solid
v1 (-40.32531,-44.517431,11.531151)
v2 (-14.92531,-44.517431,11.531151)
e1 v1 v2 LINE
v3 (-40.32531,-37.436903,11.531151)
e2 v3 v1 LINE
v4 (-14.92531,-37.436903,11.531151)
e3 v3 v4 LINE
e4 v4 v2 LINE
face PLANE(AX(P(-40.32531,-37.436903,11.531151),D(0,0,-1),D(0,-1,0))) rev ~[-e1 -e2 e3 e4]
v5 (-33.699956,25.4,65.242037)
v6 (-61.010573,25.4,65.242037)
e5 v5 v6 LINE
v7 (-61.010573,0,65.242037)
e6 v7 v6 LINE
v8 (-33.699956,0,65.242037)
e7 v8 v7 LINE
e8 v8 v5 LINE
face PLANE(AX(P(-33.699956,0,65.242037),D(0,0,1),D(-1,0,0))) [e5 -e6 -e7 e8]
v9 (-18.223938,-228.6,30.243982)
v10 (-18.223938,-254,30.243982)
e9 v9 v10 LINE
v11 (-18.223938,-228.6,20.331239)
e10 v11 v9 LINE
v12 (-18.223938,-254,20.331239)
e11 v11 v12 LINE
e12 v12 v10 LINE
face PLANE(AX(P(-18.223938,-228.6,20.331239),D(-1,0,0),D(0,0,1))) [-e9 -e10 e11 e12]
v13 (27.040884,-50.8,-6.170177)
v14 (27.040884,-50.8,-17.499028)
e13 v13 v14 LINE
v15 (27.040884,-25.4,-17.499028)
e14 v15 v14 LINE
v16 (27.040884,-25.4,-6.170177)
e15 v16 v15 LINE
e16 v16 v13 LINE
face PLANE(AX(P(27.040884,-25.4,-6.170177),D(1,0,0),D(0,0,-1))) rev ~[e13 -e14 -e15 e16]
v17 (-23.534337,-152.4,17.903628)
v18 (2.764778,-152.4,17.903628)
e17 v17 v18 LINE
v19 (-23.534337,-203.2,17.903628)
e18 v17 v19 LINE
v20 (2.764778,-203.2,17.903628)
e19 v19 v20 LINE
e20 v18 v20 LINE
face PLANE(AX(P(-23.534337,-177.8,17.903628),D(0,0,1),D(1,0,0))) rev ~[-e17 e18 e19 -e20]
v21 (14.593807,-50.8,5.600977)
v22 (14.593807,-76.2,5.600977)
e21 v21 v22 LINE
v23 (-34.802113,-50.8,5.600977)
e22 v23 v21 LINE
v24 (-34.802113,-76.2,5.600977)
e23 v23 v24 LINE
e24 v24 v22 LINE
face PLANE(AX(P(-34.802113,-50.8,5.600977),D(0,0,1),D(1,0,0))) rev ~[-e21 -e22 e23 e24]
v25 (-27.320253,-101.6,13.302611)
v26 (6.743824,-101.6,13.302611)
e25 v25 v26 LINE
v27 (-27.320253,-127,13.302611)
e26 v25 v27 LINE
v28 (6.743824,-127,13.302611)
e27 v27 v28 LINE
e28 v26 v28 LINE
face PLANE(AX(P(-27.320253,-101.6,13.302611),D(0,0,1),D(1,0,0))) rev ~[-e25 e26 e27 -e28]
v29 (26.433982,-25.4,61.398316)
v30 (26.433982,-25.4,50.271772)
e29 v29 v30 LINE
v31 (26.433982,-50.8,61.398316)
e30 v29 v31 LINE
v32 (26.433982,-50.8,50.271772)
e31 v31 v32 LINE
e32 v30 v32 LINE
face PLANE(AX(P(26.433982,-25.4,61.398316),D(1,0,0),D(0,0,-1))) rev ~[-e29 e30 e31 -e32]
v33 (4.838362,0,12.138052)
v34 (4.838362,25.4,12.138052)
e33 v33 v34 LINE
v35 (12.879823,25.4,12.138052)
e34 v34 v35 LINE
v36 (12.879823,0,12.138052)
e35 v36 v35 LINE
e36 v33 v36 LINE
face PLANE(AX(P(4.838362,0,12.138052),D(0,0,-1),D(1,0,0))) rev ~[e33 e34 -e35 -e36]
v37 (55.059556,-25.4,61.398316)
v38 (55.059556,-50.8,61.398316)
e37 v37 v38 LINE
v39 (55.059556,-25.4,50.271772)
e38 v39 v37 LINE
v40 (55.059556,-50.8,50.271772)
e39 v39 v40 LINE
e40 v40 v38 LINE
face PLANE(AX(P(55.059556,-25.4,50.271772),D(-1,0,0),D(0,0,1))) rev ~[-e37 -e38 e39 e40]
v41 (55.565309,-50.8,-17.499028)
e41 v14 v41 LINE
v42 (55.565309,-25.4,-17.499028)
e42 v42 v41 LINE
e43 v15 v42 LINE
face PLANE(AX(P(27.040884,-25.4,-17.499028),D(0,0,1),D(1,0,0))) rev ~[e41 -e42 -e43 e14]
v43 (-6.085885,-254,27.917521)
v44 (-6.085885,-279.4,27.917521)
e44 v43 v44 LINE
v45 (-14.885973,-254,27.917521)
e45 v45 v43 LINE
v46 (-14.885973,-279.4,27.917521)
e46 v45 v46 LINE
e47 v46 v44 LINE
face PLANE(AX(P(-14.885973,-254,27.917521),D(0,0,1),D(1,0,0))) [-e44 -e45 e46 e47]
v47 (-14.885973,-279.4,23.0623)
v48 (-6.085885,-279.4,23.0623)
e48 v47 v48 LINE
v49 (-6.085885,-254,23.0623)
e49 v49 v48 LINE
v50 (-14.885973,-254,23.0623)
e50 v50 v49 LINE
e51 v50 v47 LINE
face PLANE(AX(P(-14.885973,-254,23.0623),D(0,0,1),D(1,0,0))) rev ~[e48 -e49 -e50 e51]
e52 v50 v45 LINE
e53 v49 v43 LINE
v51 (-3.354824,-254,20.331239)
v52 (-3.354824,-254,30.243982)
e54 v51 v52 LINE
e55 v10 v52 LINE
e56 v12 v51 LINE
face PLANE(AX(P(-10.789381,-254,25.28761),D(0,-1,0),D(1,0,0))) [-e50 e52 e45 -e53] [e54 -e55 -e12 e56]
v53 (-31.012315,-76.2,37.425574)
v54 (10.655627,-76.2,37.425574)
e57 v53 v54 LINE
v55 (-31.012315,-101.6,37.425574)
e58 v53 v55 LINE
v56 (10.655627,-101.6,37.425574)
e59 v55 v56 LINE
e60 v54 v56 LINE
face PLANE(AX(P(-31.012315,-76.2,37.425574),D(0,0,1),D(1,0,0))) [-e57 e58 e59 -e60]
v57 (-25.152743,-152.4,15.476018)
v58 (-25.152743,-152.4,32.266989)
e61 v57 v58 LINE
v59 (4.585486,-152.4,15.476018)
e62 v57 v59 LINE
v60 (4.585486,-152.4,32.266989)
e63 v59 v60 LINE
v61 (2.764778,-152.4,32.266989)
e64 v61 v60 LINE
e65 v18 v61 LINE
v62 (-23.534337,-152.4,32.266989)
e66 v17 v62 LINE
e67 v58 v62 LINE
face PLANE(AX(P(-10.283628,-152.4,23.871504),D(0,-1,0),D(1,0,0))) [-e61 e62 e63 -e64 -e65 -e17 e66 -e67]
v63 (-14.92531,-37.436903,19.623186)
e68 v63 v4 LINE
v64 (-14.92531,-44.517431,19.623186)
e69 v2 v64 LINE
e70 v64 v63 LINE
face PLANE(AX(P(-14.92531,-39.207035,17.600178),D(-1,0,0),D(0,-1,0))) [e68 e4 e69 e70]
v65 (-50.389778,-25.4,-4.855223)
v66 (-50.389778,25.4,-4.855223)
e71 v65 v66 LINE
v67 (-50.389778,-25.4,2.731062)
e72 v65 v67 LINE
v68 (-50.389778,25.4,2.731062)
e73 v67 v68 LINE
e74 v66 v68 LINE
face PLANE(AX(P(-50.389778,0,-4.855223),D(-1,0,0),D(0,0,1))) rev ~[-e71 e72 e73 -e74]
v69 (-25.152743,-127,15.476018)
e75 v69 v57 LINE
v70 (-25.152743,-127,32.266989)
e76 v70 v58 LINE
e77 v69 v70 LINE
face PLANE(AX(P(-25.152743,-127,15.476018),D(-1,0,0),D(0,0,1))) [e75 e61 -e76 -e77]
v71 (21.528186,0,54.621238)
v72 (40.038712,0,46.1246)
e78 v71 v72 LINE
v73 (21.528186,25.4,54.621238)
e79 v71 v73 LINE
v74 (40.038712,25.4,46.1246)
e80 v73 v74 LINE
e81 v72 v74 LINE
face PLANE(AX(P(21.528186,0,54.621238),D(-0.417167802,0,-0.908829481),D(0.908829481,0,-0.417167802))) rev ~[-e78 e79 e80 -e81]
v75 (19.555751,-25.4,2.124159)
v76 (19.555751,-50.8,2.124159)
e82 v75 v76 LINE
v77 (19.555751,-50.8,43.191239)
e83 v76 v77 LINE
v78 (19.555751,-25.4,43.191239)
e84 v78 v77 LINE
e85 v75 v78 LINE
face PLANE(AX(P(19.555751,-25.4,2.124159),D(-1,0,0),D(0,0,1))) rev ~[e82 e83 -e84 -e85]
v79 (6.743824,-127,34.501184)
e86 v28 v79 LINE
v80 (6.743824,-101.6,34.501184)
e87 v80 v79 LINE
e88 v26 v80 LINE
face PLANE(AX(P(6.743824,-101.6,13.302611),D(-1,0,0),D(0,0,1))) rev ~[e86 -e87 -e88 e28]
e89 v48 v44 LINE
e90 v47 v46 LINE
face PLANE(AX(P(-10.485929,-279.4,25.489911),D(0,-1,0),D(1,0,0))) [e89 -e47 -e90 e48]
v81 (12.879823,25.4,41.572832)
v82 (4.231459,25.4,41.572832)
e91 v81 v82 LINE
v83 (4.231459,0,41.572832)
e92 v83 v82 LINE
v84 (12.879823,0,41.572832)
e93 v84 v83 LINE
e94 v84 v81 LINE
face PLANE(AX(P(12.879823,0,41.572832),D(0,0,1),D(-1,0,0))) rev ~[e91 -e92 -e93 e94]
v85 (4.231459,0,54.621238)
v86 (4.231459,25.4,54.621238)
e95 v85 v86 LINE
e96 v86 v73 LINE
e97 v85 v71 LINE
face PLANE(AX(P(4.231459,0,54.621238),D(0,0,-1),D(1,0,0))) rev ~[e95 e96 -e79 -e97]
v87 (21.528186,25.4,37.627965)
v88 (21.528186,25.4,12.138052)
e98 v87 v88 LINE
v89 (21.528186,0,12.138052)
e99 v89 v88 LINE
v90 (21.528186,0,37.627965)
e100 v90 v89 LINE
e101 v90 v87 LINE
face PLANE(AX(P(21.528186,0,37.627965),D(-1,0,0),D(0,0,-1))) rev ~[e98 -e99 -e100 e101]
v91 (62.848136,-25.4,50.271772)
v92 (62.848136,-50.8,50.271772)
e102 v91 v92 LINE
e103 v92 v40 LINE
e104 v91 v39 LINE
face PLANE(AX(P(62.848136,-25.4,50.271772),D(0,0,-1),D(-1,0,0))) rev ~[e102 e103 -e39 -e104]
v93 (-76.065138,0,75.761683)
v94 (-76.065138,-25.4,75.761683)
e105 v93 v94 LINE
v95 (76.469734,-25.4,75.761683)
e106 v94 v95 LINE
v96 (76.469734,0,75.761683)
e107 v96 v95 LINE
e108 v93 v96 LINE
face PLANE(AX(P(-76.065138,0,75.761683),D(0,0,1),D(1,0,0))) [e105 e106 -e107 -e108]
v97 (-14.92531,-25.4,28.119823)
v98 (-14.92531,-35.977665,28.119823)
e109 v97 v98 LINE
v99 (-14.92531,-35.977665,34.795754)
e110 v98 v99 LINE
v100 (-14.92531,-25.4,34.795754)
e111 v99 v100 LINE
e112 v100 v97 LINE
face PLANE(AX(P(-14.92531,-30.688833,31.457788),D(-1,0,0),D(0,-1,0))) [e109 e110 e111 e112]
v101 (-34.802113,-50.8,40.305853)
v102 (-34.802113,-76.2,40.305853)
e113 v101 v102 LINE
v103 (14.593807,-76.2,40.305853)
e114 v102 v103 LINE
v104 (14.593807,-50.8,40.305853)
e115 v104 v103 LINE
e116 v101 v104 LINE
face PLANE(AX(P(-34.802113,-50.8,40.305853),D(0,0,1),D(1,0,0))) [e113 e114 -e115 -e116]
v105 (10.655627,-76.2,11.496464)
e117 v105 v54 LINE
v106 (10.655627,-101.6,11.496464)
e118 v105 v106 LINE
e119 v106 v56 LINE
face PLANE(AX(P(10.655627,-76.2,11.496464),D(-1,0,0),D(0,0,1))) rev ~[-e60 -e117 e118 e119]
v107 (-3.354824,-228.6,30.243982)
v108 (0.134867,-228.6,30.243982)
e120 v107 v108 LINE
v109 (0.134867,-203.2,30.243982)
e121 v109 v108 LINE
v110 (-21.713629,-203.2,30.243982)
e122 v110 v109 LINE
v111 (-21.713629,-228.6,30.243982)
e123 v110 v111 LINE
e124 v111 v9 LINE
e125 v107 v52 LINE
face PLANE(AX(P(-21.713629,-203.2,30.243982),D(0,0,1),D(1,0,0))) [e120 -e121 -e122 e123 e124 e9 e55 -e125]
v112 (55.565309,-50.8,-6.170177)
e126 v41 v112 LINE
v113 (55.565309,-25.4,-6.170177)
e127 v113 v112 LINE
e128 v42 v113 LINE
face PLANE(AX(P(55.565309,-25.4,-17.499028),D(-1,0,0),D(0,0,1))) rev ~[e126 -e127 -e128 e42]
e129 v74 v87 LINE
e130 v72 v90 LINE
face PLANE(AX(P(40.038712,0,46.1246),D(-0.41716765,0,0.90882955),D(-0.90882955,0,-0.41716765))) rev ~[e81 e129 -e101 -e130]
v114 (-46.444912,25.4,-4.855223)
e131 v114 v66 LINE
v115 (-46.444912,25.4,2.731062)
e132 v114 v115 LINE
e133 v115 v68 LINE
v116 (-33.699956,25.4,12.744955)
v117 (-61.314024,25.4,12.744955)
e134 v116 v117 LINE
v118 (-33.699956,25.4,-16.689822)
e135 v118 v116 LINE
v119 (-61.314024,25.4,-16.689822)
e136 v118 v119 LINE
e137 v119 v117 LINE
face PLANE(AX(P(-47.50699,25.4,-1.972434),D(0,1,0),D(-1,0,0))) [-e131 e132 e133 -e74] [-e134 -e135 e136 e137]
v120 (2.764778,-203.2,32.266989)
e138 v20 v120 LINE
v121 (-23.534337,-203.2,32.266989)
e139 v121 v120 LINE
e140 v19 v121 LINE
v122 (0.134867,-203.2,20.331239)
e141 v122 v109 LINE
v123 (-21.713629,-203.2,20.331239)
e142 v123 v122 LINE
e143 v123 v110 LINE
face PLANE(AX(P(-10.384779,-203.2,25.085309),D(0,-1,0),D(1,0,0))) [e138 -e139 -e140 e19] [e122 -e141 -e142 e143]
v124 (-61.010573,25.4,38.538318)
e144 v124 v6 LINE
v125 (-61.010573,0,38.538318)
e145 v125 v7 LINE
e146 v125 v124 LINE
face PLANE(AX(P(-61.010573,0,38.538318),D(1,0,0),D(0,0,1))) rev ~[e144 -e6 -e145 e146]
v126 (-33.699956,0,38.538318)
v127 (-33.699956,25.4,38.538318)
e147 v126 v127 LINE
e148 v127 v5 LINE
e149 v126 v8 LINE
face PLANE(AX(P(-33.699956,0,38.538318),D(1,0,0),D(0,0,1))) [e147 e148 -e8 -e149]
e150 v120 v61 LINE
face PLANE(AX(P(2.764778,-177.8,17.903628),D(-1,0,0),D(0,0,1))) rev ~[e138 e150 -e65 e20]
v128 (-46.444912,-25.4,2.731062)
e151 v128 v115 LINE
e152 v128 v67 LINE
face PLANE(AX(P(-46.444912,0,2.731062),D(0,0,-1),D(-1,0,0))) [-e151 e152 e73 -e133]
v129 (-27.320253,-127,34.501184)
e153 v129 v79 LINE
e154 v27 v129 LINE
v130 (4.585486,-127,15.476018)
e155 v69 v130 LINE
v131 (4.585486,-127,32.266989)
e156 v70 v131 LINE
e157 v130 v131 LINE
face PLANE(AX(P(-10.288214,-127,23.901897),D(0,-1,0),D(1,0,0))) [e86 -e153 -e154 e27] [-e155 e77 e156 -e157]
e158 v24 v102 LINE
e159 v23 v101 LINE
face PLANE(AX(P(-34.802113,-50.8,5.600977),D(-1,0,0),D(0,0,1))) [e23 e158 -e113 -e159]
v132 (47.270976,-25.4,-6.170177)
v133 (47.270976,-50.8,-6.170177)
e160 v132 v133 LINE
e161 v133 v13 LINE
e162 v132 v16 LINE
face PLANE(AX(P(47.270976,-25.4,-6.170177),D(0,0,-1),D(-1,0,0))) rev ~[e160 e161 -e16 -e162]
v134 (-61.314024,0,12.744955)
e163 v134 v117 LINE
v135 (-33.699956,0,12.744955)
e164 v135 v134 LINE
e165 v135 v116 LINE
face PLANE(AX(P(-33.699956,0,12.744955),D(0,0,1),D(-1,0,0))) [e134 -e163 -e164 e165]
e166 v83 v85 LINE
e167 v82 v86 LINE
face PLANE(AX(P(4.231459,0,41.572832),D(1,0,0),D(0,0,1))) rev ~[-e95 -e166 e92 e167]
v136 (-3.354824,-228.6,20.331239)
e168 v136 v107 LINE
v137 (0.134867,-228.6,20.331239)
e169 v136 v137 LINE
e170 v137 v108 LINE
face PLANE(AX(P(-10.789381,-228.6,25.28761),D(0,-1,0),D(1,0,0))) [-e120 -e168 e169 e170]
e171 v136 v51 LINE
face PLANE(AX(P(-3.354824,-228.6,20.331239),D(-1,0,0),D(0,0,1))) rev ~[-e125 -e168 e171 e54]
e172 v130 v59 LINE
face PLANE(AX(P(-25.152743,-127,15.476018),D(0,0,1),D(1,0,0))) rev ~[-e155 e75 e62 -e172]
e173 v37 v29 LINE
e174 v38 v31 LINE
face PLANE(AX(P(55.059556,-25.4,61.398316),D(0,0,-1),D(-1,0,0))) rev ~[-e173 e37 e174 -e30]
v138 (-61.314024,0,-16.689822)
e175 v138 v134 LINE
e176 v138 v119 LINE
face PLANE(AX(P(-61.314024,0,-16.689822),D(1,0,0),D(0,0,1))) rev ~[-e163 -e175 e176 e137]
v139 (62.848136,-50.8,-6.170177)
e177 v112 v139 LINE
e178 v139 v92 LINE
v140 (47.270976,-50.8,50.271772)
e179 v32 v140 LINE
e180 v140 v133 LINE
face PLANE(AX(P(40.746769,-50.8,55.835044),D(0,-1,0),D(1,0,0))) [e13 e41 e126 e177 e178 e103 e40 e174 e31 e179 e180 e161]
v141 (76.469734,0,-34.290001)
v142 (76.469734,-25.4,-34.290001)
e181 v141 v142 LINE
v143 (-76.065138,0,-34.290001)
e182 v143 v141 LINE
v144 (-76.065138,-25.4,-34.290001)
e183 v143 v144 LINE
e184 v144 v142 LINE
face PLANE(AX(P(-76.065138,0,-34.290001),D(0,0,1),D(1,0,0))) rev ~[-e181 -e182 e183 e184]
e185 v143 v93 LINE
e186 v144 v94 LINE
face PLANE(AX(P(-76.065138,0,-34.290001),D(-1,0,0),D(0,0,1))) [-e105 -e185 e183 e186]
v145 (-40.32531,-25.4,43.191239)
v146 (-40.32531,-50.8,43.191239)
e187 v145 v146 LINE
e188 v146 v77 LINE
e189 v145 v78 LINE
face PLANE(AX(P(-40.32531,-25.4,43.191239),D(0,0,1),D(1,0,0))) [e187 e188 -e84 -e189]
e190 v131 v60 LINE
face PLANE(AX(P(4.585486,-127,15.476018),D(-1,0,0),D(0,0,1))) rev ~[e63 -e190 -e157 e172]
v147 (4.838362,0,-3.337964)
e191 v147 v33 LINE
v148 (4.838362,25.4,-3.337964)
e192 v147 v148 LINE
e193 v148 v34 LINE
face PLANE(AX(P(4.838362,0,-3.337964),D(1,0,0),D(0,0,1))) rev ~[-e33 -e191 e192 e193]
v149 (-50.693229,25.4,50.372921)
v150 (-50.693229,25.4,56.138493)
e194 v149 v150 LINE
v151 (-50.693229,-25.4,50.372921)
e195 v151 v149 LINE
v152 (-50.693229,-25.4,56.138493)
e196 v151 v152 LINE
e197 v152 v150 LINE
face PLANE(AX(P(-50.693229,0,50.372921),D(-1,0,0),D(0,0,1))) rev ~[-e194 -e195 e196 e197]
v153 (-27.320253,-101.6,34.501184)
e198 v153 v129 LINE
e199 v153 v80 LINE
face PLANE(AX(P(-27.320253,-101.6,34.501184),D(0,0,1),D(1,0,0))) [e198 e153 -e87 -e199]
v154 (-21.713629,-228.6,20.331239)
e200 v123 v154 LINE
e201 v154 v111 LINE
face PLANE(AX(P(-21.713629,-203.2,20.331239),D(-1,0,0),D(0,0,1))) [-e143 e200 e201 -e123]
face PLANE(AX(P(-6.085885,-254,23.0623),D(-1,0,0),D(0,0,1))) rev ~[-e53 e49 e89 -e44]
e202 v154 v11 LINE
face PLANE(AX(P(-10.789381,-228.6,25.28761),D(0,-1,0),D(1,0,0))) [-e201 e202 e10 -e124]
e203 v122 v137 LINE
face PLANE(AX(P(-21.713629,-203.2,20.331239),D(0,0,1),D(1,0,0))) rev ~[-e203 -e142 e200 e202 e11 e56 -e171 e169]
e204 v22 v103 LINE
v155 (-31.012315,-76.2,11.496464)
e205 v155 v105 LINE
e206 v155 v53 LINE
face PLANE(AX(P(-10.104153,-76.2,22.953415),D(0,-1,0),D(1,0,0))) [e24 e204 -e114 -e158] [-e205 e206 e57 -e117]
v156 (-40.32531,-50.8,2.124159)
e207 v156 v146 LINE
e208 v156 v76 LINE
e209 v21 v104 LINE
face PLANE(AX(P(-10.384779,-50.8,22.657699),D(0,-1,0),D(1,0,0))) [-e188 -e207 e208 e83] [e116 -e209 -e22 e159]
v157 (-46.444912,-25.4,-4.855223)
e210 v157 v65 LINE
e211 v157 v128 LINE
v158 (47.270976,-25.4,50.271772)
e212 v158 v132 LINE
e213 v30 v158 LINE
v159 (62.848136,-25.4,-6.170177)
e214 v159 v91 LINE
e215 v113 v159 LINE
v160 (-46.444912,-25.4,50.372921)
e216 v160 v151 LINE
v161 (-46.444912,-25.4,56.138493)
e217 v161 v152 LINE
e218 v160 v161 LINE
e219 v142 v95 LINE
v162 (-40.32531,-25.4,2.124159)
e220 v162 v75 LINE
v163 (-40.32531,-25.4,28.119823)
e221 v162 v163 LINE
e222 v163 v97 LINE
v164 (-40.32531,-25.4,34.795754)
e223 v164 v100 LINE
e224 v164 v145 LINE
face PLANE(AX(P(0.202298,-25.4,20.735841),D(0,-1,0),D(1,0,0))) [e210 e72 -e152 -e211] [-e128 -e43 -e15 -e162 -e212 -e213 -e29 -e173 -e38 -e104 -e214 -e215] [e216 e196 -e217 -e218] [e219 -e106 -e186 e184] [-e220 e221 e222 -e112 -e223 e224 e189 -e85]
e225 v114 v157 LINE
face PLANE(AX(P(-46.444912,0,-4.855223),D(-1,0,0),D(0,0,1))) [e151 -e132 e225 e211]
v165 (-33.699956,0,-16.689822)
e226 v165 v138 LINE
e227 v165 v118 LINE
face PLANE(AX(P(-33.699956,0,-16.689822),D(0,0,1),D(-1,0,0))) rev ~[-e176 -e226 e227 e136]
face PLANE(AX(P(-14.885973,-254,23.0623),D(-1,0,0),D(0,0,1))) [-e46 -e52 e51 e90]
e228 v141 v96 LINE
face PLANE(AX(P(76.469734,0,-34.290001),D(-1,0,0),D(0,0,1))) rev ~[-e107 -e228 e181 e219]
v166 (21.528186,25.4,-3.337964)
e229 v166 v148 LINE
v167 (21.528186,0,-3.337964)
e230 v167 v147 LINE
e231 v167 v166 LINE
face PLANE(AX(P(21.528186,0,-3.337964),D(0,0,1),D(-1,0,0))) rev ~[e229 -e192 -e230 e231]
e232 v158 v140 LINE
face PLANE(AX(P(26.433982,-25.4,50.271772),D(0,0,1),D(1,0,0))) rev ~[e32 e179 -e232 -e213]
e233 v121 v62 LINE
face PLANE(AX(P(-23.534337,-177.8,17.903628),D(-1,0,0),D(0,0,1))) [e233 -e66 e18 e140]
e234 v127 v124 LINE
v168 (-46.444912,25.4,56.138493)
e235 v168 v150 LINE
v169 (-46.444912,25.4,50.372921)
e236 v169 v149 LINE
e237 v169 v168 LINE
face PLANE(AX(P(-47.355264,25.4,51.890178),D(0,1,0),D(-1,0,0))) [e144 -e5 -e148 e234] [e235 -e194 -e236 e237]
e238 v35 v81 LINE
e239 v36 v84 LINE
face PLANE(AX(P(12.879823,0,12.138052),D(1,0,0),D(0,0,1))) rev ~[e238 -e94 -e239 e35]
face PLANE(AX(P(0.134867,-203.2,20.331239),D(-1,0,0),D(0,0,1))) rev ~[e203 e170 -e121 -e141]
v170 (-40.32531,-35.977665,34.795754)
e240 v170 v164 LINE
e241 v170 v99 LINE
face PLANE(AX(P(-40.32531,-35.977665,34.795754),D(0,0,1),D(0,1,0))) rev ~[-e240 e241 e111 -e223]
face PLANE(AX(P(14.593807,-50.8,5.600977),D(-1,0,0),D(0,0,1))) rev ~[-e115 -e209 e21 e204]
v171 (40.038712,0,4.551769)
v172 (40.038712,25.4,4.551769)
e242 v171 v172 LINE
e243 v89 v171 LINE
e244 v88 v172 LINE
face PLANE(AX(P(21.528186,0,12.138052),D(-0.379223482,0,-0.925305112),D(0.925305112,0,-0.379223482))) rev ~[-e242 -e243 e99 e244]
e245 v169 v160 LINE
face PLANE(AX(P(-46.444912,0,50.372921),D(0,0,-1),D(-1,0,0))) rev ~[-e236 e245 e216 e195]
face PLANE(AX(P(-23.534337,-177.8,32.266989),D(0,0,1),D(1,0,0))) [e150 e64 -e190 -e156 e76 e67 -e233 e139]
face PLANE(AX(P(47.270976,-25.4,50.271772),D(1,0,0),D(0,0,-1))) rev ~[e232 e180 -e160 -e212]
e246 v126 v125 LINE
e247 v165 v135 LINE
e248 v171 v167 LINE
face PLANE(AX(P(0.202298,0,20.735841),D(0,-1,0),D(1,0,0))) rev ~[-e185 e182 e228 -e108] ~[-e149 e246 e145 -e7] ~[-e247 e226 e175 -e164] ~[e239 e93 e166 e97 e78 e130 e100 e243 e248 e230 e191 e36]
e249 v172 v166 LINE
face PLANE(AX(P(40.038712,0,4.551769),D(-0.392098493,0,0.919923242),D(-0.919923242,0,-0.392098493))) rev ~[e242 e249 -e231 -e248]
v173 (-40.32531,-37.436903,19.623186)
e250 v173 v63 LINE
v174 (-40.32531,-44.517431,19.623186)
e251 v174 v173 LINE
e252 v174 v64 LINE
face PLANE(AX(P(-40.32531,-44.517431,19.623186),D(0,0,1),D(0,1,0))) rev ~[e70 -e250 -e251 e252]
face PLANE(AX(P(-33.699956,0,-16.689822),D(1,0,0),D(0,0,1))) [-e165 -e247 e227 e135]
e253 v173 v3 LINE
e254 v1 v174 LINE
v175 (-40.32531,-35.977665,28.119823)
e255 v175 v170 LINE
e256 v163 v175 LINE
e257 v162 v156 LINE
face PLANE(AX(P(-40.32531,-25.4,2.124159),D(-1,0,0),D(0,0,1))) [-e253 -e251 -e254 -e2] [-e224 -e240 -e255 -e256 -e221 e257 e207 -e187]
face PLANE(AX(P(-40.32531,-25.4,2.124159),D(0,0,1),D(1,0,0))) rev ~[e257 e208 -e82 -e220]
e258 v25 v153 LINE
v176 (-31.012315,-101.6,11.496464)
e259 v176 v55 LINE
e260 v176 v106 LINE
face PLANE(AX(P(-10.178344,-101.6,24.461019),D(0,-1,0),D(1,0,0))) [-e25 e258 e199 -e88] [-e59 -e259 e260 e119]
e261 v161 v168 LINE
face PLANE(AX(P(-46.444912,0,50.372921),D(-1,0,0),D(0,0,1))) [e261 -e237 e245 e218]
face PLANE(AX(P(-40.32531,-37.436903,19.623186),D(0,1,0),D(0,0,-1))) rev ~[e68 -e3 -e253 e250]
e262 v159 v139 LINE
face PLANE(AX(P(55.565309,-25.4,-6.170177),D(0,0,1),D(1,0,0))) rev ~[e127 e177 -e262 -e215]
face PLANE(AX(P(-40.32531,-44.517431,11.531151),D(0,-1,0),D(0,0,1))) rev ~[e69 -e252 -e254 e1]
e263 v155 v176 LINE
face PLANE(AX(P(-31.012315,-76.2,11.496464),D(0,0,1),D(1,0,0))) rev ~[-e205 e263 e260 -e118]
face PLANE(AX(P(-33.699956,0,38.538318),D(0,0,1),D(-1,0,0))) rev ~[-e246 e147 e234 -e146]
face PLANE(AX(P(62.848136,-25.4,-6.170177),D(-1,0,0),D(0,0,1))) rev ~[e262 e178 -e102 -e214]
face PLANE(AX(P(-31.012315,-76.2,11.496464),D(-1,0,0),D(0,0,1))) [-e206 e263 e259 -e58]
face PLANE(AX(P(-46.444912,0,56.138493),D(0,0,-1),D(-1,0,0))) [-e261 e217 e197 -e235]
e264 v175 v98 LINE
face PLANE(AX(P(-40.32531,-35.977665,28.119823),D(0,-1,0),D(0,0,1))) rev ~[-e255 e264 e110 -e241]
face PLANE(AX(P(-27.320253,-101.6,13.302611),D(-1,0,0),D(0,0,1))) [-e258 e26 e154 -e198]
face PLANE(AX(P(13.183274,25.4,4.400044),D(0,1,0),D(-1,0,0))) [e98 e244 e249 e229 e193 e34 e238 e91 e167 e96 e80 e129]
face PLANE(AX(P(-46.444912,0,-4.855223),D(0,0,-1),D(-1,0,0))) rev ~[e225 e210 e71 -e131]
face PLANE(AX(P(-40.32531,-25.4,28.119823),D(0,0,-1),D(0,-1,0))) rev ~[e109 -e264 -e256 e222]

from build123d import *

# Parameters (mm, degrees)
F0_W      = 152.5348722935
F0_H      = 110.0516840816
F1_DEPTH  = 25.4
F2_W      = 59.8810613155
F2_H      = 41.0670798738
F3_DEPTH  = 25.4
F5_DEPTH  = 25.4
F6_W      = 3.5402644426
F6_H      = 4.0460177697
F7_DEPTH  = 25.4
F8_W      = 49.3959197775
F8_H      = 34.7048761323
F9_DEPTH  = 25.4
F10_W     = 41.6679419577
F10_H     = 25.9291101247
F11_DEPTH = 25.4
F12_W     = 34.0640768409
F12_H     = 21.1985725909
F13_DEPTH = 25.4
F14_W     = 29.7382287681
F14_H     = 16.7909711599
F15_DEPTH = 25.4
F16_W     = 26.2991152704
F16_H     = 14.3633615226
F16_W_2   = 22.8600006667
F16_H_2   = 10.3173442185
F17_DEPTH = 25.4
F18_W     = 26.2991152704
F18_H     = 14.3633615226
F18_W_2   = 22.4553988955
F18_H_2   = 10.1150441915
F18_W_3   = 14.3633633852
F18_H_3   = 4.6529192477
F18_W_4   = 8.4966383874
F18_H_4   = 1.4161076397
F19_DEPTH = 25.4
F20_W     = 21.8484961079
F20_H     = 9.9127423018
F21_DEPTH = 25.4
F22_W     = 14.8691139184
F22_H     = 9.9127423018
F23_DEPTH = 25.4
F24_W     = 8.8000879623
F24_H     = 4.8552211374
F25_DEPTH = 25.4
F26_W     = 27.6140682399
F26_H     = 29.4347768649
F26_W_2   = 9.7104460001
F26_H_2   = 15.1725648902
F26_W_3   = 27.3106172681
F26_H_3   = 26.7037190497
F26_W_4   = 11.2277008593
F26_H_4   = 11.5311481059
F26_W_5   = 3.9448663592
F26_H_5   = 7.5862845405
F26_W_6   = 4.2483173311
F26_H_6   = 5.7655721903
F27_DEPTH = 25.4
F28_DEPTH = 25.4
F30_DEPTH = 25.4


with BuildPart() as f1:
    # F0 (on Front) → F1 (new body)
    with BuildSketch(Plane.XZ):
        with Locations((0.2022981644, 20.7358412445)):
            Rectangle(F0_W, F0_H)
    extrude(amount=F1_DEPTH)

    # F2 (on face) → F3 (join)
    with BuildSketch(Plane.XZ.offset(25.4)):
        with Locations((-10.3847794235, 22.6576993009)):
            Rectangle(F2_W, F2_H)
    extrude(amount=F3_DEPTH)

    # F4 (on face) → F5 (cut)
    with BuildSketch(Plane(origin=(-40.3253100812, 0, 0), x_dir=(0, -1, 0), z_dir=(-1, 0, 0))):
        Polygon((35.9776653349, 34.7957536578), (25.4, 34.7957536578), (25.4, 28.1198229641), (30.6888326675, 28.1198229641), (35.9776653349, 28.1198229641), align=None)
    extrude(amount=-F5_DEPTH, mode=Mode.SUBTRACT)

    # F6 (on face) → F7 (cut)
    with BuildSketch(Plane(origin=(-40.3253100812, 0, 0), x_dir=(0, -1, 0), z_dir=(-1, 0, 0))):
        with Locations((39.2070347443, 17.6001775544)):
            Rectangle(F6_W, F6_H)
        with Locations((39.2070347443, 13.5541597847)):
            Rectangle(F6_W, F6_H)
        with Locations((42.7472991869, 13.5541597847)):
            Rectangle(F6_W, F6_H)
        with Locations((42.7472991869, 17.6001775544)):
            Rectangle(F6_W, F6_H)
    extrude(amount=-F7_DEPTH, mode=Mode.SUBTRACT)

    # F8 (on face) → F9 (join)
    with BuildSketch(Plane.XZ.offset(50.8)):
        with Locations((-10.1041528396, 22.9534148239)):
            Rectangle(F8_W, F8_H)
    extrude(amount=F9_DEPTH)

    # F10 (on face) → F11 (join)
    with BuildSketch(Plane.XZ.offset(76.2)):
        with Locations((-10.1783443242, 24.4610188529)):
            Rectangle(F10_W, F10_H)
    extrude(amount=F11_DEPTH)

    # F12 (on face) → F13 (join)
    with BuildSketch(Plane.XZ.offset(101.6)):
        with Locations((-10.288214311, 23.9018974826)):
            Rectangle(F12_W, F12_H)
    extrude(amount=F13_DEPTH)

    # F14 (on face) → F15 (join)
    with BuildSketch(Plane.XZ.offset(127)):
        with Locations((-10.2836284786, 23.8715037704)):
            Rectangle(F14_W, F14_H)
    extrude(amount=F15_DEPTH)

    # F16 (on face) → F17 (join)
    with BuildSketch(Plane.XZ.offset(152.4)):
        with Locations((-10.3847794235, 25.085308589)):
            Rectangle(F16_W, F16_H)
        with Locations((-10.6882309483, 25.489911437)):
            Rectangle(F16_W_2, F16_H_2, mode=Mode.SUBTRACT)
        with Locations((-10.6882309483, 25.489911437)):
            Rectangle(F16_W_2, F16_H_2)
    extrude(amount=F17_DEPTH)

    # F18 (on face) → F19 (join)
    with BuildSketch(Plane.XZ.offset(177.8)):
        with Locations((-10.3847794235, 25.085308589)):
            Rectangle(F18_W, F18_H)
        with Locations((-10.8905318339, 25.3887614235)):
            Rectangle(F18_W_2, F18_H_2, mode=Mode.SUBTRACT)
        with Locations((-10.8905318339, 25.3887614235)):
            Rectangle(F18_W_2, F18_H_2)
        Polygon((-2.0904429257, 22.3542470485), (-20.499823615, 22.3542470485), (-20.499823615, 28.8278758526), (-18.6791159213, 28.8278758526), (-4.3157525361, 28.8278758526), (-2.0904429257, 28.8278758526), align=None, mode=Mode.SUBTRACT)
        Polygon((-20.499823615, 28.8278758526), (-20.499823615, 22.3542470485), (-2.0904429257, 22.3542470485), (-2.0904429257, 28.8278758526), (-4.3157525361, 28.8278758526), (-4.3157525361, 24.1749566048), (-18.6791159213, 24.1749566048), (-18.6791159213, 28.8278758526), align=None)
        with Locations((-11.4974342287, 26.5014162287)):
            Rectangle(F18_W_3, F18_H_3)
        with Locations((-12.2054871172, 26.5014162287)):
            Rectangle(F18_W_4, F18_H_4, mode=Mode.SUBTRACT)
        with Locations((-12.2054871172, 26.5014162287)):
            Rectangle(F18_W_4, F18_H_4)
    extrude(amount=F19_DEPTH)

    # F20 (on face) → F21 (join)
    with BuildSketch(Plane.XZ.offset(203.2)):
        with Locations((-10.789381311, 25.2876104787)):
            Rectangle(F20_W, F20_H)
    extrude(amount=F21_DEPTH)

    # F22 (on face) → F23 (join)
    with BuildSketch(Plane.XZ.offset(228.6)):
        with Locations((-10.7893806417, 25.2876104787)):
            Rectangle(F22_W, F22_H)
    extrude(amount=F23_DEPTH)

    # F24 (on face) → F25 (join)
    with BuildSketch(Plane.XZ.offset(254)):
        with Locations((-10.4859292042, 25.4899105057)):
            Rectangle(F24_W, F24_H)
    extrude(amount=F25_DEPTH)

    # F26 (on face) → F27 (join)
    with BuildSketch(Plane(origin=(0, 0, 0), x_dir=(-1, 0, 0), z_dir=(0, 1, 0))):
        with Locations((47.5069899112, -1.9724336453)):
            Rectangle(F26_W, F26_H)
        with Locations((47.962166369, -1.2138050515)):
            Rectangle(F26_W_2, F26_H_2, mode=Mode.SUBTRACT)
        with Locations((47.3552644253, 51.8901776522)):
            Rectangle(F26_W_3, F26_H_3)
        with Locations((48.1138918549, 53.1039815396)):
            Rectangle(F26_W_4, F26_H_4, mode=Mode.SUBTRACT)
        Polygon((-4.8383618705, 12.1380519122), (-12.8798228689, 12.1380519122), (-21.5281862766, 12.1380519122), (-21.5281862766, -3.3379644156), (-4.8383618705, -3.3379644156), align=None)
        Polygon((-12.8798228689, 41.5728315711), (-21.5281862766, 41.5728315711), (-21.5281862766, 37.6279652119), (-21.5281862766, 12.1380519122), (-12.8798228689, 12.1380519122), align=None)
        Polygon((-4.2314594612, 41.5728315711), (-4.2314594612, 54.6212382615), (-21.5281862766, 54.6212382615), (-21.5281862766, 41.5728315711), (-12.8798228689, 41.5728315711), align=None)
        Polygon((-21.5281862766, 41.5728315711), (-21.5281862766, 54.6212382615), (-40.0387123227, 46.124599874), (-21.5281862766, 37.6279652119), align=None)
        with Locations((47.962166369, -1.2138050515)):
            Rectangle(F26_W_2, F26_H_2)
        with Locations((48.4173446894, -1.0620807297)):
            Rectangle(F26_W_5, F26_H_5, mode=Mode.SUBTRACT)
        Polygon((-21.5281862766, -3.3379644156), (-21.5281862766, 12.1380519122), (-40.0387123227, 4.5517692342), align=None)
        with Locations((48.1138918549, 53.1039815396)):
            Rectangle(F26_W_4, F26_H_4)
        with Locations((48.5690701753, 53.2557070255)):
            Rectangle(F26_W_6, F26_H_6, mode=Mode.SUBTRACT)
    extrude(amount=F27_DEPTH)

    # F28 (cut): faces of the model
    f28_faces = [f1.faces().sort_by_distance(p)[0] for p in [
        (-48.5690701753, 0, 53.2557070255),
        (-48.4173446894, 0, -1.0620807297),
    ]]
    extrude(f28_faces, amount=-F28_DEPTH, mode=Mode.SUBTRACT)

    # F29 (on face) → F30 (join)
    with BuildSketch(Plane.XZ.offset(25.4)):
        Polygon((26.4339819551, 50.2717718482), (47.270976007, 50.2717718482), (55.059555918, 50.2717718482), (55.059555918, 61.3983161747), (26.4339819551, 61.3983161747), align=None)
        Polygon((47.270976007, 50.2717718482), (47.270976007, -6.1701769009), (55.5653087795, -6.1701769009), (62.848135829, -6.1701769009), (62.848135829, 50.2717718482), (55.059555918, 50.2717718482), align=None)
        Polygon((47.270976007, -6.1701769009), (27.0408838987, -6.1701769009), (27.0408838987, -17.4990277737), (55.5653087795, -17.4990277737), (55.5653087795, -6.1701769009), align=None)
    extrude(amount=F30_DEPTH)


solid = f1.part
